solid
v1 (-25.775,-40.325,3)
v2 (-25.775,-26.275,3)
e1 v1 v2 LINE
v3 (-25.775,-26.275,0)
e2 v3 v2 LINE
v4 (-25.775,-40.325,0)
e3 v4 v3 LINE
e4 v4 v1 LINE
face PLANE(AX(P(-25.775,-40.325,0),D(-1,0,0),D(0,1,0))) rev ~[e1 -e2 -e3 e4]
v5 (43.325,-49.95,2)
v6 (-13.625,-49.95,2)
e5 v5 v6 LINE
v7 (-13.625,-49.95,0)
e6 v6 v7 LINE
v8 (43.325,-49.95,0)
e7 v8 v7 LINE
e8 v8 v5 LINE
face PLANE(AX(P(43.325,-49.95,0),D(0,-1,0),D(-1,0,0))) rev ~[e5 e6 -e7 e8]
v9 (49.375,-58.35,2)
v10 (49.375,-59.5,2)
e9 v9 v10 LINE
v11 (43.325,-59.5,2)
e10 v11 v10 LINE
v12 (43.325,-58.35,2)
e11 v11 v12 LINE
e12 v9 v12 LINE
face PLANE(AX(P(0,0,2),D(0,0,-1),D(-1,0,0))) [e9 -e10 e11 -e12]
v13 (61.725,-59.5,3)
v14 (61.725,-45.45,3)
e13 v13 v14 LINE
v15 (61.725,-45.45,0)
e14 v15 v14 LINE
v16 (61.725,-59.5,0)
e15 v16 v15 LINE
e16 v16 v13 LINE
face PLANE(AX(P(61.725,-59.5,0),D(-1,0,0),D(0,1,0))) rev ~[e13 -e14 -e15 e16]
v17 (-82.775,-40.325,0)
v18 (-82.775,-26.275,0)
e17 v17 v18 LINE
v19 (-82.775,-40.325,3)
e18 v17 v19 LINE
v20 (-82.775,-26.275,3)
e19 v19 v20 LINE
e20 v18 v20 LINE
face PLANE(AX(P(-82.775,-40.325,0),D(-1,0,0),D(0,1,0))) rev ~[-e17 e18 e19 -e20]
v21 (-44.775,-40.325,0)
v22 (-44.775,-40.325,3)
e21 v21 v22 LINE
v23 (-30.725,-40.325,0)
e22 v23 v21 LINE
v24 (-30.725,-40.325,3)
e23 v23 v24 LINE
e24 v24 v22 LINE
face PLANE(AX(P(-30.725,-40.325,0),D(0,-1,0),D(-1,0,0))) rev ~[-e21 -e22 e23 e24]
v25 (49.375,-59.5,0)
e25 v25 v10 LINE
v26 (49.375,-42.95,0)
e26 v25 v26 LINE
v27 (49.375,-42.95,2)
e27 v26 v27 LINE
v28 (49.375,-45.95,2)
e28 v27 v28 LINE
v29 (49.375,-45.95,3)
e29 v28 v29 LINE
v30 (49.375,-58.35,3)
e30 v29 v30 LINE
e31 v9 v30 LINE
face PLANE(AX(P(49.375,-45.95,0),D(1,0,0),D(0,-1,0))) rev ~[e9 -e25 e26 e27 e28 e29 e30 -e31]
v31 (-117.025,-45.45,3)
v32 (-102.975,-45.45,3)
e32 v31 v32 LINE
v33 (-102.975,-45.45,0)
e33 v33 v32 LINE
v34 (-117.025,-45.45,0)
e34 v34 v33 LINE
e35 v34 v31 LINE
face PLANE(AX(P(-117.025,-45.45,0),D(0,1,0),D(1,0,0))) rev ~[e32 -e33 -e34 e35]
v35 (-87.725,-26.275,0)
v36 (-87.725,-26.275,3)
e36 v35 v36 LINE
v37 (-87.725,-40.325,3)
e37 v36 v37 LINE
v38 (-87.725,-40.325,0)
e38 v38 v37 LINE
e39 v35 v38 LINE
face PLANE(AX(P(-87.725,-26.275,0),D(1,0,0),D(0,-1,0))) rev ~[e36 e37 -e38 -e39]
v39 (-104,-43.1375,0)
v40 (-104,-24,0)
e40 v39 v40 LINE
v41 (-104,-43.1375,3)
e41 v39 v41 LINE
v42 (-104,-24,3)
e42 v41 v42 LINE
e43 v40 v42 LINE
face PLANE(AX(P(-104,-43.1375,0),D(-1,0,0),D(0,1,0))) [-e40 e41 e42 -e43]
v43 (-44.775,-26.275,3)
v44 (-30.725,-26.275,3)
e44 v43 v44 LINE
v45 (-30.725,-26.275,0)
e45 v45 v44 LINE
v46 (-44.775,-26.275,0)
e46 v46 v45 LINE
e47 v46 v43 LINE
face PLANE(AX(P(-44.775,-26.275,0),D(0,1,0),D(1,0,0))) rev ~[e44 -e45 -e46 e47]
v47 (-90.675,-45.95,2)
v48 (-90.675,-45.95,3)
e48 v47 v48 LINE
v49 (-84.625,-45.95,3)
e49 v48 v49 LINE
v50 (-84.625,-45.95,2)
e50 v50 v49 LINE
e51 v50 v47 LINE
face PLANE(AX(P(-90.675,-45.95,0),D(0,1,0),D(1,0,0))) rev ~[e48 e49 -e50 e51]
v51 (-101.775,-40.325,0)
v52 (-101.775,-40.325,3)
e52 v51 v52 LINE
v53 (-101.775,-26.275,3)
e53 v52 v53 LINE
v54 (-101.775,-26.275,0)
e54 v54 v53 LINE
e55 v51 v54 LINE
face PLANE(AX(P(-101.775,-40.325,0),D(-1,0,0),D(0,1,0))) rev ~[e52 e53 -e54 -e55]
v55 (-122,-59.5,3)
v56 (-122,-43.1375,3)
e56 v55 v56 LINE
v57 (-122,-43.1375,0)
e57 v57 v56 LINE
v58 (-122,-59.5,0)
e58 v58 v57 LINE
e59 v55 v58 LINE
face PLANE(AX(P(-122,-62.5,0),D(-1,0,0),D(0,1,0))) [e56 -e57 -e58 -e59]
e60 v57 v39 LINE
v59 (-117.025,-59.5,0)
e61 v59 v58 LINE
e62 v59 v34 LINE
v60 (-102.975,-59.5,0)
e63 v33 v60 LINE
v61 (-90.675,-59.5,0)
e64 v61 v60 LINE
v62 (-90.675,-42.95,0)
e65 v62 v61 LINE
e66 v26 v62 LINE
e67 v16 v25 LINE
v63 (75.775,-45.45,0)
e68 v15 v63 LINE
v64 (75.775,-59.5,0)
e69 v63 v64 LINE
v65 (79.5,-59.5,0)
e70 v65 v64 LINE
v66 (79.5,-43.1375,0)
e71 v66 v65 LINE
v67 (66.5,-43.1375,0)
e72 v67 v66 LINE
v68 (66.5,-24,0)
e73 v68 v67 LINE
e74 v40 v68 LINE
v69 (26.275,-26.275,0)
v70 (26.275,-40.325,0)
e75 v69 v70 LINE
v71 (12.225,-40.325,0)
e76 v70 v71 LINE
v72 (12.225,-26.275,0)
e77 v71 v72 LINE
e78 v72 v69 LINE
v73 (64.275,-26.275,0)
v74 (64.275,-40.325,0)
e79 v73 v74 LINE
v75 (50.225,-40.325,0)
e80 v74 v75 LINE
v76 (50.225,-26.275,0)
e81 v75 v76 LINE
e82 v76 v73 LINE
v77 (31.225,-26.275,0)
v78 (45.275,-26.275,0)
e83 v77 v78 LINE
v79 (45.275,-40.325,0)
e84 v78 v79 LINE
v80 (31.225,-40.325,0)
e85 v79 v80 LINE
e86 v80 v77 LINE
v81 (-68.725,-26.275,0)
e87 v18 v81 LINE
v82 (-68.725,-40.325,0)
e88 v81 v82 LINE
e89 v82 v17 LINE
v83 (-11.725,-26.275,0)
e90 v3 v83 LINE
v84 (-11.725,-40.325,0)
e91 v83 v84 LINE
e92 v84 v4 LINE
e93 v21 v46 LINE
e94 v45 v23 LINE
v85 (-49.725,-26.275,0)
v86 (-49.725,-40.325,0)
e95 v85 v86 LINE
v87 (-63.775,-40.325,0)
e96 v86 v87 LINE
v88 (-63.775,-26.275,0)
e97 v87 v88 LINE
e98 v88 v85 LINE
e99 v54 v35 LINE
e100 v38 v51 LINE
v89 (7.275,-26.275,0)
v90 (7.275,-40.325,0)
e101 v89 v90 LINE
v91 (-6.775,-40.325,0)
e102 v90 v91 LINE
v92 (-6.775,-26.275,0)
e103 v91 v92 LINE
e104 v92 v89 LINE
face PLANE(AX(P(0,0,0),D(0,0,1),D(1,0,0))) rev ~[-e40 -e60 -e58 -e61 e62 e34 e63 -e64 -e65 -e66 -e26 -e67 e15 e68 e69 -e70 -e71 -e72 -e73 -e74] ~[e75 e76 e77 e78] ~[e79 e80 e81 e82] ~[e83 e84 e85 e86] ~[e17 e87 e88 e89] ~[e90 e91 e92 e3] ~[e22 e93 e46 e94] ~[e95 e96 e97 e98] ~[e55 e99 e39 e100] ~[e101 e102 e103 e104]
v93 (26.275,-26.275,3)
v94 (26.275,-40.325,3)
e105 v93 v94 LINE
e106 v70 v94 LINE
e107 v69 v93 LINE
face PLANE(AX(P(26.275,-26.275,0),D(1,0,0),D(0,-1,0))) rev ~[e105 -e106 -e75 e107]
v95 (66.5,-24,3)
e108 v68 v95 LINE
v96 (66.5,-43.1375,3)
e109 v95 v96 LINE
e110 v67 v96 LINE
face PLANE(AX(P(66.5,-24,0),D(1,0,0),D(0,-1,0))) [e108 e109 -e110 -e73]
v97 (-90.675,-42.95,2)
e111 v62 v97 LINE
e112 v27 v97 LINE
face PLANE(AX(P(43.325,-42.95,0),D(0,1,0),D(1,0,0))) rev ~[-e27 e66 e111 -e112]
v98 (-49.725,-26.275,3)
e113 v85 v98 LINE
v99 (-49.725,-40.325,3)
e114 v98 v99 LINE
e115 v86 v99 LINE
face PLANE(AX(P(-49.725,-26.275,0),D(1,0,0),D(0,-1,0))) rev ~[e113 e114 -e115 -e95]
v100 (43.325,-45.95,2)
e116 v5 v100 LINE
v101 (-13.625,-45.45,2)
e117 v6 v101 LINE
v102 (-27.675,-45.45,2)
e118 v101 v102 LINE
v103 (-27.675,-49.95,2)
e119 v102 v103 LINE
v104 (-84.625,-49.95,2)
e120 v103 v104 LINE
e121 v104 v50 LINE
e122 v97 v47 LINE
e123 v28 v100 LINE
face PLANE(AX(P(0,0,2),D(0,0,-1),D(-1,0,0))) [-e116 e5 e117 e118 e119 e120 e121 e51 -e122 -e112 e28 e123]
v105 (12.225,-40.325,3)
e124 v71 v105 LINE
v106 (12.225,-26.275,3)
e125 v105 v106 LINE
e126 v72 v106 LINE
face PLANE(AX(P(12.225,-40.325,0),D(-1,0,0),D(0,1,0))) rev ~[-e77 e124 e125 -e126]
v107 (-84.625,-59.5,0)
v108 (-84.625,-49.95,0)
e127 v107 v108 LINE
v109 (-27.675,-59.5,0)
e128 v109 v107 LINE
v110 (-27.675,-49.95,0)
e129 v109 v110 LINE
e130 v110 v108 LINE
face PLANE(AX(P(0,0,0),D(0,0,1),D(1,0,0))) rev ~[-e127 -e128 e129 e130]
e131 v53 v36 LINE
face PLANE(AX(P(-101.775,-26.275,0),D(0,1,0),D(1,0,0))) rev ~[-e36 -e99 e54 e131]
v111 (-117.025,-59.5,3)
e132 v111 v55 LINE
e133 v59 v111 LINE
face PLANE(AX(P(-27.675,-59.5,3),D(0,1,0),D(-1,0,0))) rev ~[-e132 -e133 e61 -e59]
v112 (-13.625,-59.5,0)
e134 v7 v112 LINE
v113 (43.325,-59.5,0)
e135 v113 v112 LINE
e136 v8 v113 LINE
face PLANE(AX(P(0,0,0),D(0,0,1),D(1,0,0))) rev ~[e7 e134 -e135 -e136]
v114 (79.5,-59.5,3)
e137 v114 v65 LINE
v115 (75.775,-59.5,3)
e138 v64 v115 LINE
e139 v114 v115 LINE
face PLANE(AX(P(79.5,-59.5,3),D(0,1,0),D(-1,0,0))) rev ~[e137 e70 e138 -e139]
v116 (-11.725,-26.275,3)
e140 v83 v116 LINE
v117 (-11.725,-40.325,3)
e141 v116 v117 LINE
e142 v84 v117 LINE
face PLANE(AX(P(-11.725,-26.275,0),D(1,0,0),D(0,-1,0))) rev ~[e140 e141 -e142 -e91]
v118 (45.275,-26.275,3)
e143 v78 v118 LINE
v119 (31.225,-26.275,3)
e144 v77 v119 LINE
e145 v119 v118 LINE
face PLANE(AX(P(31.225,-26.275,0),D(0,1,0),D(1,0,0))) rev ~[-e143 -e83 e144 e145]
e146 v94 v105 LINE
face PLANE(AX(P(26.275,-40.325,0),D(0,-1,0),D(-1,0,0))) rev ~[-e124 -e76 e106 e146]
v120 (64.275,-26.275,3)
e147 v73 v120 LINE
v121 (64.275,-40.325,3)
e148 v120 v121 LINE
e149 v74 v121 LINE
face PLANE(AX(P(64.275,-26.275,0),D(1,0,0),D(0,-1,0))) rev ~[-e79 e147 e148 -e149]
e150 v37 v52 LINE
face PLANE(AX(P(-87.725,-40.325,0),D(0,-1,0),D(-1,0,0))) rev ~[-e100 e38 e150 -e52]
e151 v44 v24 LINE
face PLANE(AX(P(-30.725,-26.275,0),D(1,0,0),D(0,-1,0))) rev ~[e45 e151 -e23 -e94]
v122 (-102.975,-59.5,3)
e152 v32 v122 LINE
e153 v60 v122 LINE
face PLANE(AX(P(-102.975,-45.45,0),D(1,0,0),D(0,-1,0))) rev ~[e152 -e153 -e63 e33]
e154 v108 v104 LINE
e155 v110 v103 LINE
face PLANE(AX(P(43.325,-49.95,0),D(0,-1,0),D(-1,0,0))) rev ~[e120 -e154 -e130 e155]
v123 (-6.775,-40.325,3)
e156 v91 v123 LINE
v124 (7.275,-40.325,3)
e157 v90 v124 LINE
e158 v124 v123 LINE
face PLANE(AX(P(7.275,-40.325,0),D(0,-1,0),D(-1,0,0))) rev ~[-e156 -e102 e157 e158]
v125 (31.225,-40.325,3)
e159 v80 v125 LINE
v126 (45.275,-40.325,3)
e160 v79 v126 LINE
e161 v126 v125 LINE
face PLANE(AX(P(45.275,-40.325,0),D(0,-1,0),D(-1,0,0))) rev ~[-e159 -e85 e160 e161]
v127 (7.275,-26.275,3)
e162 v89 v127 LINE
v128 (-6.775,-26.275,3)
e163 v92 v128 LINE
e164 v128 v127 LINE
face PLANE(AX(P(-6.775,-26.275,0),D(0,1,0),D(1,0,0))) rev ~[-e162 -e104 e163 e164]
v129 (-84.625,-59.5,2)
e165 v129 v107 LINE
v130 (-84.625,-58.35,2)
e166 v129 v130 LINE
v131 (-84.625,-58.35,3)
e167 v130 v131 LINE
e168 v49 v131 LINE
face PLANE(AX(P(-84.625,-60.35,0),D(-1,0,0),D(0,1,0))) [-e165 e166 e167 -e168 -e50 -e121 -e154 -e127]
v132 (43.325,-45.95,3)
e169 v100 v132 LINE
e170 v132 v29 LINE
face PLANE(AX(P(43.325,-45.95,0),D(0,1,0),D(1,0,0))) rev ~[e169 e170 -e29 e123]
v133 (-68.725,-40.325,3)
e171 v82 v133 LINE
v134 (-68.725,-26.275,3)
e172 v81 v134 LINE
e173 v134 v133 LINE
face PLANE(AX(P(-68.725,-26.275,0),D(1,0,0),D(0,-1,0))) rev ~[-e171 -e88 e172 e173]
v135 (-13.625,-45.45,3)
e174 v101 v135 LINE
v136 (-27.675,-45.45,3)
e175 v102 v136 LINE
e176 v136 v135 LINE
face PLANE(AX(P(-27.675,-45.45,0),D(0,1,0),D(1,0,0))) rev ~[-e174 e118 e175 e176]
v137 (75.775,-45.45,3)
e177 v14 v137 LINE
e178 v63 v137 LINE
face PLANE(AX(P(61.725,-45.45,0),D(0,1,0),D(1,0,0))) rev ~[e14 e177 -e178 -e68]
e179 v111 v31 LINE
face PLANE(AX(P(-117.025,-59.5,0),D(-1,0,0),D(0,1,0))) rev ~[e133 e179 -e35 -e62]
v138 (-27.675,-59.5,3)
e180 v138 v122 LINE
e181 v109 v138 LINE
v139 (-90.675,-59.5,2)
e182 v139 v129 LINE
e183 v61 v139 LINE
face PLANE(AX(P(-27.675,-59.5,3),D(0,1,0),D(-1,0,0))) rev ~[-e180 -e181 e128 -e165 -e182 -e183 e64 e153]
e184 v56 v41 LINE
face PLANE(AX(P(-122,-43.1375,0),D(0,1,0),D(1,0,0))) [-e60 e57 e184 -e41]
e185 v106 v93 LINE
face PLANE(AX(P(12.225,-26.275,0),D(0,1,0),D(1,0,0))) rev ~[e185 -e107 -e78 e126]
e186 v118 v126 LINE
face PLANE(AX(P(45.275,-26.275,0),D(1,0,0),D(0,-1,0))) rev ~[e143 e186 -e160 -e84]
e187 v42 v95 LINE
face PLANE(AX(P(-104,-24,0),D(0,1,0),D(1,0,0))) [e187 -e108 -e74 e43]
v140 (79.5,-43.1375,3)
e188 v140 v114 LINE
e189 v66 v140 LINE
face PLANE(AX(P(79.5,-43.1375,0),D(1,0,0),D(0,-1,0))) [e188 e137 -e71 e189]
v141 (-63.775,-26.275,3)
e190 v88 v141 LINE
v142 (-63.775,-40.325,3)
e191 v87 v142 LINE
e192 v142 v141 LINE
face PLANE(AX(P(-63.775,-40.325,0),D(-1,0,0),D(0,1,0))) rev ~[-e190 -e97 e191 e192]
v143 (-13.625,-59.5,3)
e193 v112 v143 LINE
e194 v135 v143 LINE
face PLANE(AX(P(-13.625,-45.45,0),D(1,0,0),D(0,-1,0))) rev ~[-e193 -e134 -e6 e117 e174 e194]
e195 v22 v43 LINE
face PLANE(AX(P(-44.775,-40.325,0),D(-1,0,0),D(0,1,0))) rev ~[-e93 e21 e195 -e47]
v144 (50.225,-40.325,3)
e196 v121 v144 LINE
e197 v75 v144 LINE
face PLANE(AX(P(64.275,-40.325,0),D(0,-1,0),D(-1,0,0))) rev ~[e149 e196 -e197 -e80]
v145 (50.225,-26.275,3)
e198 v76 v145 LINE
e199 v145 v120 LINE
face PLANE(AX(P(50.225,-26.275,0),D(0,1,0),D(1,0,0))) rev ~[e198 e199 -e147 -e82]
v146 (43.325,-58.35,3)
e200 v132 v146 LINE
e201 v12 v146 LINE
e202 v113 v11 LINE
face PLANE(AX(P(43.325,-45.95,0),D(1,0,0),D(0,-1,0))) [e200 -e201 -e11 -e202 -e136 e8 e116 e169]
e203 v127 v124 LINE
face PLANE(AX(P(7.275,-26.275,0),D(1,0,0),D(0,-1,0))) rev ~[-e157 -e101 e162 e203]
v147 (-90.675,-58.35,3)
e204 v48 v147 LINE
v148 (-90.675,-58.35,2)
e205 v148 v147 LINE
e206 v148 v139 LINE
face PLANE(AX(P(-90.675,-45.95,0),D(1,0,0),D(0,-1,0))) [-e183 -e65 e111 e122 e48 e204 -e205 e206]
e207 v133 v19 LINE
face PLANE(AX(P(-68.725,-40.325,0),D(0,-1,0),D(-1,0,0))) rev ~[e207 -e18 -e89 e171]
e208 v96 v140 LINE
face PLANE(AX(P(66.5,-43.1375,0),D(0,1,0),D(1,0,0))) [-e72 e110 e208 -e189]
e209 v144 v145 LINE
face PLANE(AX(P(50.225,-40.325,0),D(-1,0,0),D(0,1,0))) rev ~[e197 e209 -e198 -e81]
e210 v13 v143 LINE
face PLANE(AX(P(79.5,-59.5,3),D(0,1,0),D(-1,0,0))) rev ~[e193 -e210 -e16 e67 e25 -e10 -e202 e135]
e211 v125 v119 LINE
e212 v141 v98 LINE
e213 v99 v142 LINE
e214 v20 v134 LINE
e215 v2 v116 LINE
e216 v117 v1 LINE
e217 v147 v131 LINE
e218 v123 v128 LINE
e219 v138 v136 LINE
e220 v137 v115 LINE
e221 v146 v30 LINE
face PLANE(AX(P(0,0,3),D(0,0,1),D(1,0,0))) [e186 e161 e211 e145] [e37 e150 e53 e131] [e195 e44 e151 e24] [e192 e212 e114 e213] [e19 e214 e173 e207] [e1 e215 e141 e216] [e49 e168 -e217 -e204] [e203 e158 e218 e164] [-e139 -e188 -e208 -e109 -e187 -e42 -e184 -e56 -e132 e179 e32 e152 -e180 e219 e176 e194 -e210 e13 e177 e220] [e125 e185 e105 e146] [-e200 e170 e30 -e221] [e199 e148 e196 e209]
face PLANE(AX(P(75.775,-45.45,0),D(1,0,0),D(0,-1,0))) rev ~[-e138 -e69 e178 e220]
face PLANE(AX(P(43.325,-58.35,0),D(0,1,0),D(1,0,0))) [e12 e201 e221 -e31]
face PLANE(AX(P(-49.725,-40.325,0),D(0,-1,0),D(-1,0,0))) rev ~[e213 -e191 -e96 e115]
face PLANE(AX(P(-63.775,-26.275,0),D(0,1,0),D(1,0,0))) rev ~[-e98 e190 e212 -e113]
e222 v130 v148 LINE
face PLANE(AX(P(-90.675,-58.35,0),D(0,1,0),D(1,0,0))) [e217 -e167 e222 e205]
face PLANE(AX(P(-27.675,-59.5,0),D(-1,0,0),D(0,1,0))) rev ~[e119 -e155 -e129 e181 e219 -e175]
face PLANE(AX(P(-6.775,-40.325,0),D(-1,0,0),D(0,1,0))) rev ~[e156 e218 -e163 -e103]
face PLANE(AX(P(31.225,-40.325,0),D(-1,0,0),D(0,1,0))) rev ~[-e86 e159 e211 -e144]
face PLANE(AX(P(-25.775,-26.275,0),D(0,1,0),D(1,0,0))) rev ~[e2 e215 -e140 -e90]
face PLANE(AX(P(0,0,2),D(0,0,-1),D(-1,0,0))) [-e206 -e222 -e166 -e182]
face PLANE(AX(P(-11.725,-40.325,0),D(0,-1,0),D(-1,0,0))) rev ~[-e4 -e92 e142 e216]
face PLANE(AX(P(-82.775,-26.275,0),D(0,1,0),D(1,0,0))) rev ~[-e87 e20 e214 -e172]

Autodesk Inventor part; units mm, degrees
ref_plane "YZ Plane" through (0, 0, 0) normal (1, 0, 0) x (0, 1, 0)
ref_plane "XZ Plane" through (0, 0, 0) normal (0, 1, 0) x (-1, 0, 0)
ref_plane "XY Plane" through (0, 0, 0) normal (0, 0, 1) x (1, 0, 0)
sketch "Sketch1" plane through (0, 0, 0) normal (0, 0, 1) x (1, 0, 0)
  line L0 (31.275, 11.925) -> (31.275, -2.125) construction
  line L1 (31.275, -2.125) -> (17.225, -2.125) construction
  line L2 (17.225, -2.125) -> (17.225, 11.925) construction
  line L3 (17.225, 11.925) -> (31.275, 11.925) construction
  line L4 (-101.725, 11.925) -> (-101.725, -2.125) construction
  line L5 (-101.725, -2.125) -> (-115.775, -2.125) construction
  line L6 (-115.775, -2.125) -> (-115.775, 11.925) construction
  line L7 (-115.775, 11.925) -> (-101.725, 11.925) construction
  line L8 (43.325, -43.95) -> (49.375, -43.95) construction
  line L9 (49.375, -43.95) -> (49.375, -61) construction
  line L10 (49.375, -61) -> (43.325, -61) construction
  line L11 (43.325, -61) -> (43.325, -43.95) construction
  line L12 (117.95, -19.8) -> (117.95, -13.75) construction
  line L13 (117.95, -13.75) -> (135, -13.75) construction
  line L14 (135, -13.75) -> (135, -19.8) construction
  line L15 (135, -19.8) -> (117.95, -19.8) construction
  line L16 (26.325, -43.95) -> (32.375, -43.95) construction
  line L17 (32.375, -43.95) -> (32.375, -61) construction
  line L18 (32.375, -61) -> (26.325, -61) construction
  line L19 (26.325, -61) -> (26.325, -43.95) construction
  line L20 (-152.525, 13.425) -> (-146.475, 13.425) construction
  line L21 (-146.475, 13.425) -> (-146.475, -3.625) construction
  line L22 (-146.475, -3.625) -> (-152.525, -3.625) construction
  line L23 (-152.525, -3.625) -> (-152.525, 13.425) construction
  line L24 (-90.675, -43.95) -> (-84.625, -43.95) construction
  line L25 (-84.625, -43.95) -> (-84.625, -61) construction
  line L26 (-84.625, -61) -> (-90.675, -61) construction
  line L27 (-90.675, -61) -> (-90.675, -43.95) construction
  line L28 (39.375, -43.95) -> (39.375, -61) construction
  line L29 (39.375, -61) -> (33.325, -61) construction
  line L30 (33.325, -61) -> (33.325, -43.95) construction
  line L31 (33.325, -43.95) -> (39.375, -43.95) construction
  line L32 (117.95, 4.2) -> (117.95, 10.25) construction
  line L33 (117.95, 10.25) -> (135, 10.25) construction
  line L34 (135, 10.25) -> (135, 4.2) construction
  line L35 (135, 4.2) -> (117.95, 4.2) construction
  line L36 (-67.625, -43.95) -> (-67.625, -61) construction
  line L37 (-67.625, -61) -> (-73.675, -61) construction
  line L38 (-73.675, -61) -> (-73.675, -43.95) construction
  line L39 (-73.675, -43.95) -> (-67.625, -43.95) construction
  line L40 (-128.525, 13.425) -> (-122.475, 13.425) construction
  line L41 (-122.475, 13.425) -> (-122.475, -3.625) construction
  line L42 (-122.475, -3.625) -> (-128.525, -3.625) construction
  line L43 (-128.525, -3.625) -> (-128.525, 13.425) construction
  line L44 (-74.625, -43.95) -> (-74.625, -61) construction
  line L45 (-74.625, -61) -> (-80.675, -61) construction
  line L46 (-80.675, -61) -> (-80.675, -43.95) construction
  line L47 (-80.675, -43.95) -> (-74.625, -43.95) construction
  line L48 (-157.5, -62.5) -> (157.5, -62.5) construction
  line L49 (157.5, -62.5) -> (157.5, -41.5) construction
  line L50 (157.5, -41.5) -> (139.5, -41.5) construction
  line L51 (139.5, -41.5) -> (139.5, 12.5) construction
  line L52 (139.5, 12.5) -> (157.5, 12.5) construction
  line L53 (157.5, 12.5) -> (157.5, 62.5) construction
  line L54 (157.5, 62.5) -> (-157.5, 62.5) construction
  line L55 (-157.5, 62.5) -> (-157.5, -62.5) construction
  line L56 (-38.5, 42.5) -> (6.5, 42.5) construction
  line L57 (6.5, 42.5) -> (6.5, 33.5) construction
  line L58 (6.5, 33.5) -> (-38.5, 33.5) construction
  line L59 (-38.5, 33.5) -> (-38.5, 42.5) construction
  line L60 (154.775, -45.45) -> (154.775, -59.5) construction
  line L61 (154.775, -59.5) -> (140.725, -59.5) construction
  line L62 (140.725, -59.5) -> (140.725, -45.45) construction
  line L63 (140.725, -45.45) -> (154.775, -45.45) construction
  line L64 (135.775, -45.45) -> (135.775, -59.5) construction
  line L65 (135.775, -59.5) -> (121.725, -59.5) construction
  line L66 (121.725, -59.5) -> (121.725, -45.45) construction
  line L67 (121.725, -45.45) -> (135.775, -45.45) construction
  line L68 (116.775, -45.45) -> (116.775, -59.5) construction
  line L69 (116.775, -59.5) -> (102.725, -59.5) construction
  line L70 (102.725, -59.5) -> (102.725, -45.45) construction
  line L71 (102.725, -45.45) -> (116.775, -45.45) construction
  line L72 (97.775, -45.45) -> (97.775, -59.5) construction
  line L73 (97.775, -59.5) -> (83.725, -59.5) construction
  line L74 (83.725, -59.5) -> (83.725, -45.45) construction
  line L75 (83.725, -45.45) -> (97.775, -45.45) construction
  line L76 (75.775, -45.45) -> (75.775, -59.5) construction
  line L77 (75.775, -59.5) -> (61.725, -59.5) construction
  line L78 (61.725, -59.5) -> (61.725, -45.45) construction
  line L79 (61.725, -45.45) -> (75.775, -45.45) construction
  line L80 (-13.625, -45.45) -> (-13.625, -59.5) construction
  line L81 (-13.625, -59.5) -> (-27.675, -59.5) construction
  line L82 (-27.675, -59.5) -> (-27.675, -45.45) construction
  line L83 (-27.675, -45.45) -> (-13.625, -45.45) construction
  line L84 (-102.975, -45.45) -> (-102.975, -59.5) construction
  line L85 (-102.975, -59.5) -> (-117.025, -59.5) construction
  line L86 (-117.025, -59.5) -> (-117.025, -45.45) construction
  line L87 (-117.025, -45.45) -> (-102.975, -45.45) construction
  line L88 (-141.525, -45.45) -> (-127.475, -45.45) construction
  line L89 (-127.475, -45.45) -> (-127.475, -59.5) construction
  line L90 (-127.475, -59.5) -> (-141.525, -59.5) construction
  line L91 (-141.525, -59.5) -> (-141.525, -45.45) construction
  line L92 (121.725, -26.275) -> (135.775, -26.275) construction
  line L93 (135.775, -26.275) -> (135.775, -40.325) construction
  line L94 (135.775, -40.325) -> (121.725, -40.325) construction
  line L95 (121.725, -40.325) -> (121.725, -26.275) construction
  line L96 (95.475, -26.275) -> (109.525, -26.275) construction
  line L97 (109.525, -26.275) -> (109.525, -40.325) construction
  line L98 (109.525, -40.325) -> (95.475, -40.325) construction
  line L99 (95.475, -40.325) -> (95.475, -26.275) construction
  line L100 (69.225, -26.275) -> (83.275, -26.275) construction
  line L101 (83.275, -26.275) -> (83.275, -40.325) construction
  line L102 (83.275, -40.325) -> (69.225, -40.325) construction
  line L103 (69.225, -40.325) -> (69.225, -26.275) construction
  line L104 (50.225, -26.275) -> (64.275, -26.275) construction
  line L105 (64.275, -26.275) -> (64.275, -40.325) construction
  line L106 (64.275, -40.325) -> (50.225, -40.325) construction
  line L107 (50.225, -40.325) -> (50.225, -26.275) construction
  line L108 (31.225, -26.275) -> (45.275, -26.275) construction
  line L109 (45.275, -26.275) -> (45.275, -40.325) construction
  line L110 (45.275, -40.325) -> (31.225, -40.325) construction
  line L111 (31.225, -40.325) -> (31.225, -26.275) construction
  line L112 (12.225, -26.275) -> (26.275, -26.275) construction
  line L113 (26.275, -26.275) -> (26.275, -40.325) construction
  line L114 (26.275, -40.325) -> (12.225, -40.325) construction
  line L115 (12.225, -40.325) -> (12.225, -26.275) construction
  line L116 (-6.775, -26.275) -> (7.275, -26.275) construction
  line L117 (7.275, -26.275) -> (7.275, -40.325) construction
  line L118 (7.275, -40.325) -> (-6.775, -40.325) construction
  line L119 (-6.775, -40.325) -> (-6.775, -26.275) construction
  line L120 (-25.775, -26.275) -> (-11.725, -26.275) construction
  line L121 (-11.725, -26.275) -> (-11.725, -40.325) construction
  line L122 (-11.725, -40.325) -> (-25.775, -40.325) construction
  line L123 (-25.775, -40.325) -> (-25.775, -26.275) construction
  line L124 (-44.775, -26.275) -> (-30.725, -26.275) construction
  line L125 (-30.725, -26.275) -> (-30.725, -40.325) construction
  line L126 (-30.725, -40.325) -> (-44.775, -40.325) construction
  line L127 (-44.775, -40.325) -> (-44.775, -26.275) construction
  line L128 (-63.775, -26.275) -> (-49.725, -26.275) construction
  line L129 (-49.725, -26.275) -> (-49.725, -40.325) construction
  line L130 (-49.725, -40.325) -> (-63.775, -40.325) construction
  line L131 (-63.775, -40.325) -> (-63.775, -26.275) construction
  line L132 (-82.775, -26.275) -> (-68.725, -26.275) construction
  line L133 (-68.725, -26.275) -> (-68.725, -40.325) construction
  line L134 (-68.725, -40.325) -> (-82.775, -40.325) construction
  line L135 (-82.775, -40.325) -> (-82.775, -26.275) construction
  line L136 (-101.775, -26.275) -> (-87.725, -26.275) construction
  line L137 (-87.725, -26.275) -> (-87.725, -40.325) construction
  line L138 (-87.725, -40.325) -> (-101.775, -40.325) construction
  line L139 (-101.775, -40.325) -> (-101.775, -26.275) construction
  line L140 (-120.775, -26.275) -> (-106.725, -26.275) construction
  line L141 (-106.725, -26.275) -> (-106.725, -40.325) construction
  line L142 (-106.725, -40.325) -> (-120.775, -40.325) construction
  line L143 (-120.775, -40.325) -> (-120.775, -26.275) construction
  line L144 (-146.775, -26.275) -> (-132.725, -26.275) construction
  line L145 (-132.725, -26.275) -> (-132.725, -40.325) construction
  line L146 (-132.725, -40.325) -> (-146.775, -40.325) construction
  line L147 (-146.775, -40.325) -> (-146.775, -26.275) construction
  line L148 (97.975, -7.175) -> (112.025, -7.175) construction
  line L149 (112.025, -7.175) -> (112.025, -21.225) construction
  line L150 (112.025, -21.225) -> (97.975, -21.225) construction
  line L151 (97.975, -21.225) -> (97.975, -7.175) construction
  line L152 (78.975, -7.175) -> (93.025, -7.175) construction
  line L153 (93.025, -7.175) -> (93.025, -21.225) construction
  line L154 (93.025, -21.225) -> (78.975, -21.225) construction
  line L155 (78.975, -21.225) -> (78.975, -7.175) construction
  line L156 (59.975, -7.175) -> (74.025, -7.175) construction
  line L157 (74.025, -7.175) -> (74.025, -21.225) construction
  line L158 (74.025, -21.225) -> (59.975, -21.225) construction
  line L159 (59.975, -21.225) -> (59.975, -7.175) construction
  line L160 (40.975, -7.175) -> (55.025, -7.175) construction
  line L161 (55.025, -7.175) -> (55.025, -21.225) construction
  line L162 (55.025, -21.225) -> (40.975, -21.225) construction
  line L163 (40.975, -21.225) -> (40.975, -7.175) construction
  line L164 (21.975, -7.175) -> (36.025, -7.175) construction
  line L165 (36.025, -7.175) -> (36.025, -21.225) construction
  line L166 (36.025, -21.225) -> (21.975, -21.225) construction
  line L167 (21.975, -21.225) -> (21.975, -7.175) construction
  line L168 (2.975, -7.175) -> (17.025, -7.175) construction
  line L169 (17.025, -7.175) -> (17.025, -21.225) construction
  line L170 (17.025, -21.225) -> (2.975, -21.225) construction
  line L171 (2.975, -21.225) -> (2.975, -7.175) construction
  line L172 (-16.025, -7.175) -> (-1.975, -7.175) construction
  line L173 (-1.975, -7.175) -> (-1.975, -21.225) construction
  line L174 (-1.975, -21.225) -> (-16.025, -21.225) construction
  line L175 (-16.025, -21.225) -> (-16.025, -7.175) construction
  line L176 (-35.025, -7.175) -> (-20.975, -7.175) construction
  line L177 (-20.975, -7.175) -> (-20.975, -21.225) construction
  line L178 (-20.975, -21.225) -> (-35.025, -21.225) construction
  line L179 (-35.025, -21.225) -> (-35.025, -7.175) construction
  line L180 (-54.025, -7.175) -> (-39.975, -7.175) construction
  line L181 (-39.975, -7.175) -> (-39.975, -21.225) construction
  line L182 (-39.975, -21.225) -> (-54.025, -21.225) construction
  line L183 (-54.025, -21.225) -> (-54.025, -7.175) construction
  line L184 (-73.025, -7.175) -> (-58.975, -7.175) construction
  line L185 (-58.975, -7.175) -> (-58.975, -21.225) construction
  line L186 (-58.975, -21.225) -> (-73.025, -21.225) construction
  line L187 (-73.025, -21.225) -> (-73.025, -7.175) construction
  line L188 (-92.025, -7.175) -> (-77.975, -7.175) construction
  line L189 (-77.975, -7.175) -> (-77.975, -21.225) construction
  line L190 (-77.975, -21.225) -> (-92.025, -21.225) construction
  line L191 (-92.025, -21.225) -> (-92.025, -7.175) construction
  line L192 (-111.025, -7.175) -> (-96.975, -7.175) construction
  line L193 (-96.975, -7.175) -> (-96.975, -21.225) construction
  line L194 (-96.975, -21.225) -> (-111.025, -21.225) construction
  line L195 (-111.025, -21.225) -> (-111.025, -7.175) construction
  line L196 (-130.025, -7.175) -> (-115.975, -7.175) construction
  line L197 (-115.975, -7.175) -> (-115.975, -21.225) construction
  line L198 (-115.975, -21.225) -> (-130.025, -21.225) construction
  line L199 (-130.025, -21.225) -> (-130.025, -7.175) construction
  line L200 (-151.525, -7.175) -> (-137.475, -7.175) construction
  line L201 (-137.475, -7.175) -> (-137.475, -21.225) construction
  line L202 (-137.475, -21.225) -> (-151.525, -21.225) construction
  line L203 (-151.525, -21.225) -> (-151.525, -7.175) construction
  line L204 (119.45, 2.25) -> (133.5, 2.25) construction
  line L205 (133.5, 2.25) -> (133.5, -11.8) construction
  line L206 (133.5, -11.8) -> (119.45, -11.8) construction
  line L207 (119.45, -11.8) -> (119.45, 2.25) construction
  line L208 (107.275, 11.925) -> (107.275, -2.125) construction
  line L209 (107.275, -2.125) -> (93.225, -2.125) construction
  line L210 (93.225, -2.125) -> (93.225, 11.925) construction
  line L211 (93.225, 11.925) -> (107.275, 11.925) construction
  line L212 (88.275, 11.925) -> (88.275, -2.125) construction
  line L213 (88.275, -2.125) -> (74.225, -2.125) construction
  line L214 (74.225, -2.125) -> (74.225, 11.925) construction
  line L215 (74.225, 11.925) -> (88.275, 11.925) construction
  line L216 (69.275, 11.925) -> (69.275, -2.125) construction
  line L217 (69.275, -2.125) -> (55.225, -2.125) construction
  line L218 (55.225, -2.125) -> (55.225, 11.925) construction
  line L219 (55.225, 11.925) -> (69.275, 11.925) construction
  line L220 (50.275, 11.925) -> (50.275, -2.125) construction
  line L221 (50.275, -2.125) -> (36.225, -2.125) construction
  line L222 (36.225, -2.125) -> (36.225, 11.925) construction
  line L223 (36.225, 11.925) -> (50.275, 11.925) construction
  line L224 (12.275, 11.925) -> (12.275, -2.125) construction
  line L225 (12.275, -2.125) -> (-1.775, -2.125) construction
  line L226 (-1.775, -2.125) -> (-1.775, 11.925) construction
  line L227 (-1.775, 11.925) -> (12.275, 11.925) construction
  line L228 (-6.725, 11.925) -> (-6.725, -2.125) construction
  line L229 (-6.725, -2.125) -> (-20.775, -2.125) construction
  line L230 (-20.775, -2.125) -> (-20.775, 11.925) construction
  line L231 (-20.775, 11.925) -> (-6.725, 11.925) construction
  line L232 (-25.725, 11.925) -> (-25.725, -2.125) construction
  line L233 (-25.725, -2.125) -> (-39.775, -2.125) construction
  line L234 (-39.775, -2.125) -> (-39.775, 11.925) construction
  line L235 (-39.775, 11.925) -> (-25.725, 11.925) construction
  line L236 (-44.725, 11.925) -> (-44.725, -2.125) construction
  line L237 (-44.725, -2.125) -> (-58.775, -2.125) construction
  line L238 (-58.775, -2.125) -> (-58.775, 11.925) construction
  line L239 (-58.775, 11.925) -> (-44.725, 11.925) construction
  line L240 (-63.725, 11.925) -> (-63.725, -2.125) construction
  line L241 (-63.725, -2.125) -> (-77.775, -2.125) construction
  line L242 (-77.775, -2.125) -> (-77.775, 11.925) construction
  line L243 (-77.775, 11.925) -> (-63.725, 11.925) construction
  line L244 (-82.725, 11.925) -> (-82.725, -2.125) construction
  line L245 (-82.725, -2.125) -> (-96.775, -2.125) construction
  line L246 (-96.775, -2.125) -> (-96.775, 11.925) construction
  line L247 (-96.775, 11.925) -> (-82.725, 11.925) construction
  line L248 (-144.525, 11.925) -> (-130.475, 11.925) construction
  line L249 (-130.475, 11.925) -> (-130.475, -2.125) construction
  line L250 (-130.475, -2.125) -> (-144.525, -2.125) construction
  line L251 (-144.525, -2.125) -> (-144.525, 11.925) construction
  line L252 (154.525, 16.975) -> (140.475, 16.975) construction
  line L253 (140.475, 16.975) -> (140.475, 31.025) construction
  line L254 (140.475, 31.025) -> (154.525, 31.025) construction
  line L255 (154.525, 31.025) -> (154.525, 16.975) construction
  line L256 (135.525, 16.975) -> (121.475, 16.975) construction
  line L257 (121.475, 16.975) -> (121.475, 31.025) construction
  line L258 (121.475, 31.025) -> (135.525, 31.025) construction
  line L259 (135.525, 31.025) -> (135.525, 16.975) construction
  line L260 (116.525, 16.975) -> (102.475, 16.975) construction
  line L261 (102.475, 16.975) -> (102.475, 31.025) construction
  line L262 (102.475, 31.025) -> (116.525, 31.025) construction
  line L263 (116.525, 31.025) -> (116.525, 16.975) construction
  line L264 (97.525, 16.975) -> (83.475, 16.975) construction
  line L265 (83.475, 16.975) -> (83.475, 31.025) construction
  line L266 (83.475, 31.025) -> (97.525, 31.025) construction
  line L267 (97.525, 31.025) -> (97.525, 16.975) construction
  line L268 (78.525, 16.975) -> (64.475, 16.975) construction
  line L269 (64.475, 16.975) -> (64.475, 31.025) construction
  line L270 (64.475, 31.025) -> (78.525, 31.025) construction
  line L271 (78.525, 31.025) -> (78.525, 16.975) construction
  line L272 (59.525, 16.975) -> (45.475, 16.975) construction
  line L273 (45.475, 16.975) -> (45.475, 31.025) construction
  line L274 (45.475, 31.025) -> (59.525, 31.025) construction
  line L275 (59.525, 31.025) -> (59.525, 16.975) construction
  line L276 (40.525, 16.975) -> (26.475, 16.975) construction
  line L277 (26.475, 16.975) -> (26.475, 31.025) construction
  line L278 (26.475, 31.025) -> (40.525, 31.025) construction
  line L279 (40.525, 31.025) -> (40.525, 16.975) construction
  line L280 (21.525, 16.975) -> (7.475, 16.975) construction
  line L281 (7.475, 16.975) -> (7.475, 31.025) construction
  line L282 (7.475, 31.025) -> (21.525, 31.025) construction
  line L283 (21.525, 31.025) -> (21.525, 16.975) construction
  line L284 (2.525, 16.975) -> (-11.525, 16.975) construction
  line L285 (-11.525, 16.975) -> (-11.525, 31.025) construction
  line L286 (-11.525, 31.025) -> (2.525, 31.025) construction
  line L287 (2.525, 31.025) -> (2.525, 16.975) construction
  line L288 (-16.475, 16.975) -> (-30.525, 16.975) construction
  line L289 (-30.525, 16.975) -> (-30.525, 31.025) construction
  line L290 (-30.525, 31.025) -> (-16.475, 31.025) construction
  line L291 (-16.475, 31.025) -> (-16.475, 16.975) construction
  line L292 (-35.475, 16.975) -> (-49.525, 16.975) construction
  line L293 (-49.525, 16.975) -> (-49.525, 31.025) construction
  line L294 (-49.525, 31.025) -> (-35.475, 31.025) construction
  line L295 (-35.475, 31.025) -> (-35.475, 16.975) construction
  line L296 (-54.475, 16.975) -> (-68.525, 16.975) construction
  line L297 (-68.525, 16.975) -> (-68.525, 31.025) construction
  line L298 (-68.525, 31.025) -> (-54.475, 31.025) construction
  line L299 (-54.475, 31.025) -> (-54.475, 16.975) construction
  line L300 (-73.475, 16.975) -> (-87.525, 16.975) construction
  line L301 (-87.525, 16.975) -> (-87.525, 31.025) construction
  line L302 (-87.525, 31.025) -> (-73.475, 31.025) construction
  line L303 (-73.475, 31.025) -> (-73.475, 16.975) construction
  line L304 (-92.475, 16.975) -> (-106.525, 16.975) construction
  line L305 (-106.525, 16.975) -> (-106.525, 31.025) construction
  line L306 (-106.525, 31.025) -> (-92.475, 31.025) construction
  line L307 (-92.475, 31.025) -> (-92.475, 16.975) construction
  line L308 (-111.475, 16.975) -> (-125.525, 16.975) construction
  line L309 (-125.525, 16.975) -> (-125.525, 31.025) construction
  line L310 (-125.525, 31.025) -> (-111.475, 31.025) construction
  line L311 (-111.475, 31.025) -> (-111.475, 16.975) construction
  line L312 (-149.525, 31.025) -> (-135.475, 31.025) construction
  line L313 (-135.475, 31.025) -> (-135.475, 16.975) construction
  line L314 (-135.475, 16.975) -> (-149.525, 16.975) construction
  line L315 (-149.525, 16.975) -> (-149.525, 31.025) construction
  line L316 (138.975, 59.525) -> (153.025, 59.525) construction
  line L317 (153.025, 59.525) -> (153.025, 45.475) construction
  line L318 (153.025, 45.475) -> (138.975, 45.475) construction
  line L319 (138.975, 45.475) -> (138.975, 59.525) construction
  line L320 (105.475, 59.525) -> (119.525, 59.525) construction
  line L321 (119.525, 59.525) -> (119.525, 45.475) construction
  line L322 (119.525, 45.475) -> (105.475, 45.475) construction
  line L323 (105.475, 45.475) -> (105.475, 59.525) construction
  line L324 (81.475, 59.525) -> (95.525, 59.525) construction
  line L325 (95.525, 59.525) -> (95.525, 45.475) construction
  line L326 (95.525, 45.475) -> (81.475, 45.475) construction
  line L327 (81.475, 45.475) -> (81.475, 59.525) construction
  line L328 (57.475, 59.525) -> (71.525, 59.525) construction
  line L329 (71.525, 59.525) -> (71.525, 45.475) construction
  line L330 (71.525, 45.475) -> (57.475, 45.475) construction
  line L331 (57.475, 45.475) -> (57.475, 59.525) construction
  line L332 (33.475, 59.525) -> (47.525, 59.525) construction
  line L333 (47.525, 59.525) -> (47.525, 45.475) construction
  line L334 (47.525, 45.475) -> (33.475, 45.475) construction
  line L335 (33.475, 45.475) -> (33.475, 59.525) construction
  line L336 (9.475, 59.525) -> (23.525, 59.525) construction
  line L337 (23.525, 59.525) -> (23.525, 45.475) construction
  line L338 (23.525, 45.475) -> (9.475, 45.475) construction
  line L339 (9.475, 45.475) -> (9.475, 59.525) construction
  line L340 (-23.025, 59.525) -> (-8.975, 59.525) construction
  line L341 (-8.975, 59.525) -> (-8.975, 45.475) construction
  line L342 (-8.975, 45.475) -> (-23.025, 45.475) construction
  line L343 (-23.025, 45.475) -> (-23.025, 59.525) construction
  line L344 (-47.025, 59.525) -> (-32.975, 59.525) construction
  line L345 (-32.975, 59.525) -> (-32.975, 45.475) construction
  line L346 (-32.975, 45.475) -> (-47.025, 45.475) construction
  line L347 (-47.025, 45.475) -> (-47.025, 59.525) construction
  line L348 (-71.025, 59.525) -> (-56.975, 59.525) construction
  line L349 (-56.975, 59.525) -> (-56.975, 45.475) construction
  line L350 (-56.975, 45.475) -> (-71.025, 45.475) construction
  line L351 (-71.025, 45.475) -> (-71.025, 59.525) construction
  line L352 (-95.025, 59.525) -> (-80.975, 59.525) construction
  line L353 (-80.975, 59.525) -> (-80.975, 45.475) construction
  line L354 (-80.975, 45.475) -> (-95.025, 45.475) construction
  line L355 (-95.025, 45.475) -> (-95.025, 59.525) construction
  line L356 (-119.025, 59.525) -> (-104.975, 59.525) construction
  line L357 (-104.975, 59.525) -> (-104.975, 45.475) construction
  line L358 (-104.975, 45.475) -> (-119.025, 45.475) construction
  line L359 (-119.025, 45.475) -> (-119.025, 59.525) construction
  line L360 (-152.025, 59.525) -> (-137.975, 59.525) construction
  line L361 (-137.975, 59.525) -> (-137.975, 45.475) construction
  line L362 (-137.975, 45.475) -> (-152.025, 45.475) construction
  line L363 (-152.025, 45.475) -> (-152.025, 59.525) construction
  line L364 (-122.25, -62.5) -> (-122.25, -42.8875) construction
  line L365 (-122.25, -42.8875) -> (-104.25, -42.8875) construction
  line L366 (-104.25, -42.8875) -> (-104.25, -23.75) construction
  line L367 (-104.25, -23.75) -> (66.75, -23.75) construction
  line L368 (66.75, -23.75) -> (66.75, -42.8875) construction
  line L369 (66.75, -42.8875) -> (79.75, -42.8875) construction
  line L370 (79.75, -42.8875) -> (79.75, -62.5) construction
  line L371 (75.775, -45.45) -> (79.75, -45.45) construction
  line L372 (79.75, -45.45) -> (83.725, -45.45) construction
  line L373 (75.775, -45.45) -> (75.775, -42.8875) construction
  line L374 (75.775, -42.8875) -> (75.775, -40.325) construction
  line L375 (69.225, -40.325) -> (66.75, -40.325) construction
  line L376 (66.75, -40.325) -> (64.275, -40.325) construction
  line L377 (64.275, -26.275) -> (64.275, -23.75) construction
  line L378 (64.275, -23.75) -> (64.275, -21.225) construction
  line L379 (-106.725, -26.275) -> (-104.25, -26.275) construction
  line L380 (-104.25, -26.275) -> (-101.775, -26.275) construction
  line L381 (-106.725, -40.325) -> (-106.725, -42.8875) construction
  line L382 (-106.725, -42.8875) -> (-106.725, -45.45) construction
  line L383 (-127.475, -45.45) -> (-122.25, -45.45) construction
  line L384 (-122.25, -45.45) -> (-117.025, -45.45) construction
  line L385 (-122, -62.5) -> (-122, -43.1375)
  line L386 (-122, -43.1375) -> (-104, -43.1375)
  line L387 (-104, -43.1375) -> (-104, -24)
  line L388 (-104, -24) -> (66.5, -24)
  line L389 (66.5, -24) -> (66.5, -43.1375)
  line L390 (66.5, -43.1375) -> (79.5, -43.1375)
  line L391 (79.5, -43.1375) -> (79.5, -62.5)
  line L392 (79.5, -62.5) -> (-122, -62.5)
  line L393 (-102.975, -45.45) -> (-102.975, -59.5) projected
  line L394 (-117.025, -45.45) -> (-102.975, -45.45) projected
  line L395 (-117.025, -59.5) -> (-117.025, -45.45) projected
  line L396 (-102.975, -59.5) -> (-117.025, -59.5) projected
  line L397 (-87.725, -40.325) -> (-101.775, -40.325) projected
  line L398 (-101.775, -40.325) -> (-101.775, -26.275) projected
  line L399 (-101.775, -26.275) -> (-87.725, -26.275) projected
  line L400 (-87.725, -26.275) -> (-87.725, -40.325) projected
  line L401 (-82.775, -40.325) -> (-82.775, -26.275) projected
  line L402 (-82.775, -26.275) -> (-68.725, -26.275) projected
  line L403 (-68.725, -26.275) -> (-68.725, -40.325) projected
  line L404 (-68.725, -40.325) -> (-82.775, -40.325) projected
  line L405 (-49.725, -40.325) -> (-63.775, -40.325) projected
  line L406 (-63.775, -40.325) -> (-63.775, -26.275) projected
  line L407 (-49.725, -26.275) -> (-49.725, -40.325) projected
  line L408 (-63.775, -26.275) -> (-49.725, -26.275) projected
  line L409 (-44.775, -40.325) -> (-44.775, -26.275) projected
  line L410 (-44.775, -26.275) -> (-30.725, -26.275) projected
  line L411 (-30.725, -40.325) -> (-44.775, -40.325) projected
  line L412 (-30.725, -26.275) -> (-30.725, -40.325) projected
  line L413 (-25.775, -26.275) -> (-11.725, -26.275) projected
  line L414 (-25.775, -40.325) -> (-25.775, -26.275) projected
  line L415 (-11.725, -26.275) -> (-11.725, -40.325) projected
  line L416 (-11.725, -40.325) -> (-25.775, -40.325) projected
  line L417 (-27.675, -45.45) -> (-13.625, -45.45) projected
  line L418 (-13.625, -45.45) -> (-13.625, -59.5) projected
  line L419 (-27.675, -59.5) -> (-27.675, -45.45) projected
  line L420 (-13.625, -59.5) -> (-27.675, -59.5) projected
  line L421 (-6.775, -40.325) -> (-6.775, -26.275) projected
  line L422 (7.275, -40.325) -> (-6.775, -40.325) projected
  line L423 (7.275, -26.275) -> (7.275, -40.325) projected
  line L424 (-6.775, -26.275) -> (7.275, -26.275) projected
  line L425 (12.225, -40.325) -> (12.225, -26.275) projected
  line L426 (12.225, -26.275) -> (26.275, -26.275) projected
  line L427 (26.275, -26.275) -> (26.275, -40.325) projected
  line L428 (26.275, -40.325) -> (12.225, -40.325) projected
  line L429 (31.225, -26.275) -> (45.275, -26.275) projected
  line L430 (45.275, -26.275) -> (45.275, -40.325) projected
  line L431 (31.225, -40.325) -> (31.225, -26.275) projected
  line L432 (45.275, -40.325) -> (31.225, -40.325) projected
  line L433 (50.225, -26.275) -> (64.275, -26.275) projected
  line L434 (50.225, -40.325) -> (50.225, -26.275) projected
  line L435 (64.275, -40.325) -> (50.225, -40.325) projected
  line L436 (64.275, -26.275) -> (64.275, -40.325) projected
  line L437 (61.725, -45.45) -> (75.775, -45.45) projected
  line L438 (75.775, -45.45) -> (75.775, -59.5) projected
  line L439 (61.725, -59.5) -> (61.725, -45.45) projected
  line L440 (75.775, -59.5) -> (61.725, -59.5) projected
  line L441 (-90.675, -45.95) -> (-84.625, -45.95)
  line L442 (-90.675, -58.35) -> (-84.625, -58.35)
  line L443 (-90.675, -45.95) -> (-90.675, -58.35)
  line L444 (-84.625, -45.95) -> (-84.625, -58.35)
  line L445 (43.325, -45.95) -> (49.375, -45.95)
  line L446 (43.325, -58.35) -> (49.375, -58.35)
  line L447 (43.325, -45.95) -> (43.325, -58.35)
  line L448 (49.375, -45.95) -> (49.375, -58.35)
  point P0 (0, 0)
  dimension "d0" = 0.25
  dimension "d1" = 0.25
  dimension "d2" = 0.25
  dimension "d3" = 0.25
  dimension "d4" = 0.25
  dimension "d5" = 0.25
  dimension "d6" = 0.25
  dimension "d7" = 2
  dimension "d8" = 12.4
extrude "Extrusion1" add sketch "Sketch1" along normal blind 3
sketch "Sketch2" plane through (0, 0, 0) normal (0, 0, -1) x (-1, 0, 0)
  line L0 (-49.375, -60.35) -> (-43.325, -60.35)
  line L1 (-43.325, -60.35) -> (-43.325, -49.95)
  line L2 (-43.325, -42.95) -> (-49.375, -42.95)
  line L3 (-49.375, -42.95) -> (-49.375, -60.35)
  line L4 (-43.325, -45.95) -> (-49.375, -45.95) projected
  line L5 (-49.375, -61) -> (-49.375, -43.95) construction
  line L6 (-43.325, -43.95) -> (-43.325, -61) construction
  line L7 (84.625, -61) -> (84.625, -43.95) construction
  line L8 (90.675, -43.95) -> (90.675, -61) construction
  line L9 (84.625, -42.95) -> (90.675, -42.95)
  line L10 (90.675, -42.95) -> (90.675, -60.35)
  line L11 (90.675, -60.35) -> (84.625, -60.35)
  line L12 (84.625, -60.35) -> (84.625, -49.95)
  line L13 (-43.325, -42.95) -> (84.625, -42.95)
  line L14 (-43.325, -49.95) -> (84.625, -49.95)
  line L15 (84.625, -45.95) -> (84.625, -58.35) projected
  point P0 (0, 0)
  point P1 (-49.375, -58.35)
  point P2 (-43.325, -58.35)
  dimension "d12" = 3
  dimension "d13" = 4
extrude "Extrusion2" cut sketch "Sketch2" against normal blind 2
sketch "Sketch3" plane through (0, 0, 3) normal (0, 0, 1) x (1, 0, 0)
  line L0 (-13.625, -59.5) -> (-27.675, -59.5) projected
  line L1 (79.5, -62.5) -> (79.5, -43.1375) projected
  line L2 (-122, -62.5) -> (79.5, -62.5)
  line L3 (79.5, -62.5) -> (79.5, -59.5)
  line L4 (79.5, -59.5) -> (-122, -59.5)
  line L5 (-122, -59.5) -> (-122, -62.5)
  point P0 (0, 0)
extrude "Extrusion3" cut sketch "Sketch3" against normal up to surface (3 mm away)
equation "\"d0\" = ipg"
equation "\"d1\" = ipg"
equation "\"d2\" = ipg"
equation "\"d3\" = ipg"
equation "\"d4\" = ipg"
equation "\"d5\" = ipg"
equation "\"d6\" = ipg"
equation "\"ipg\" = 0.25"
properties part number "Lower Middle Plate" material "PET Plastic"
